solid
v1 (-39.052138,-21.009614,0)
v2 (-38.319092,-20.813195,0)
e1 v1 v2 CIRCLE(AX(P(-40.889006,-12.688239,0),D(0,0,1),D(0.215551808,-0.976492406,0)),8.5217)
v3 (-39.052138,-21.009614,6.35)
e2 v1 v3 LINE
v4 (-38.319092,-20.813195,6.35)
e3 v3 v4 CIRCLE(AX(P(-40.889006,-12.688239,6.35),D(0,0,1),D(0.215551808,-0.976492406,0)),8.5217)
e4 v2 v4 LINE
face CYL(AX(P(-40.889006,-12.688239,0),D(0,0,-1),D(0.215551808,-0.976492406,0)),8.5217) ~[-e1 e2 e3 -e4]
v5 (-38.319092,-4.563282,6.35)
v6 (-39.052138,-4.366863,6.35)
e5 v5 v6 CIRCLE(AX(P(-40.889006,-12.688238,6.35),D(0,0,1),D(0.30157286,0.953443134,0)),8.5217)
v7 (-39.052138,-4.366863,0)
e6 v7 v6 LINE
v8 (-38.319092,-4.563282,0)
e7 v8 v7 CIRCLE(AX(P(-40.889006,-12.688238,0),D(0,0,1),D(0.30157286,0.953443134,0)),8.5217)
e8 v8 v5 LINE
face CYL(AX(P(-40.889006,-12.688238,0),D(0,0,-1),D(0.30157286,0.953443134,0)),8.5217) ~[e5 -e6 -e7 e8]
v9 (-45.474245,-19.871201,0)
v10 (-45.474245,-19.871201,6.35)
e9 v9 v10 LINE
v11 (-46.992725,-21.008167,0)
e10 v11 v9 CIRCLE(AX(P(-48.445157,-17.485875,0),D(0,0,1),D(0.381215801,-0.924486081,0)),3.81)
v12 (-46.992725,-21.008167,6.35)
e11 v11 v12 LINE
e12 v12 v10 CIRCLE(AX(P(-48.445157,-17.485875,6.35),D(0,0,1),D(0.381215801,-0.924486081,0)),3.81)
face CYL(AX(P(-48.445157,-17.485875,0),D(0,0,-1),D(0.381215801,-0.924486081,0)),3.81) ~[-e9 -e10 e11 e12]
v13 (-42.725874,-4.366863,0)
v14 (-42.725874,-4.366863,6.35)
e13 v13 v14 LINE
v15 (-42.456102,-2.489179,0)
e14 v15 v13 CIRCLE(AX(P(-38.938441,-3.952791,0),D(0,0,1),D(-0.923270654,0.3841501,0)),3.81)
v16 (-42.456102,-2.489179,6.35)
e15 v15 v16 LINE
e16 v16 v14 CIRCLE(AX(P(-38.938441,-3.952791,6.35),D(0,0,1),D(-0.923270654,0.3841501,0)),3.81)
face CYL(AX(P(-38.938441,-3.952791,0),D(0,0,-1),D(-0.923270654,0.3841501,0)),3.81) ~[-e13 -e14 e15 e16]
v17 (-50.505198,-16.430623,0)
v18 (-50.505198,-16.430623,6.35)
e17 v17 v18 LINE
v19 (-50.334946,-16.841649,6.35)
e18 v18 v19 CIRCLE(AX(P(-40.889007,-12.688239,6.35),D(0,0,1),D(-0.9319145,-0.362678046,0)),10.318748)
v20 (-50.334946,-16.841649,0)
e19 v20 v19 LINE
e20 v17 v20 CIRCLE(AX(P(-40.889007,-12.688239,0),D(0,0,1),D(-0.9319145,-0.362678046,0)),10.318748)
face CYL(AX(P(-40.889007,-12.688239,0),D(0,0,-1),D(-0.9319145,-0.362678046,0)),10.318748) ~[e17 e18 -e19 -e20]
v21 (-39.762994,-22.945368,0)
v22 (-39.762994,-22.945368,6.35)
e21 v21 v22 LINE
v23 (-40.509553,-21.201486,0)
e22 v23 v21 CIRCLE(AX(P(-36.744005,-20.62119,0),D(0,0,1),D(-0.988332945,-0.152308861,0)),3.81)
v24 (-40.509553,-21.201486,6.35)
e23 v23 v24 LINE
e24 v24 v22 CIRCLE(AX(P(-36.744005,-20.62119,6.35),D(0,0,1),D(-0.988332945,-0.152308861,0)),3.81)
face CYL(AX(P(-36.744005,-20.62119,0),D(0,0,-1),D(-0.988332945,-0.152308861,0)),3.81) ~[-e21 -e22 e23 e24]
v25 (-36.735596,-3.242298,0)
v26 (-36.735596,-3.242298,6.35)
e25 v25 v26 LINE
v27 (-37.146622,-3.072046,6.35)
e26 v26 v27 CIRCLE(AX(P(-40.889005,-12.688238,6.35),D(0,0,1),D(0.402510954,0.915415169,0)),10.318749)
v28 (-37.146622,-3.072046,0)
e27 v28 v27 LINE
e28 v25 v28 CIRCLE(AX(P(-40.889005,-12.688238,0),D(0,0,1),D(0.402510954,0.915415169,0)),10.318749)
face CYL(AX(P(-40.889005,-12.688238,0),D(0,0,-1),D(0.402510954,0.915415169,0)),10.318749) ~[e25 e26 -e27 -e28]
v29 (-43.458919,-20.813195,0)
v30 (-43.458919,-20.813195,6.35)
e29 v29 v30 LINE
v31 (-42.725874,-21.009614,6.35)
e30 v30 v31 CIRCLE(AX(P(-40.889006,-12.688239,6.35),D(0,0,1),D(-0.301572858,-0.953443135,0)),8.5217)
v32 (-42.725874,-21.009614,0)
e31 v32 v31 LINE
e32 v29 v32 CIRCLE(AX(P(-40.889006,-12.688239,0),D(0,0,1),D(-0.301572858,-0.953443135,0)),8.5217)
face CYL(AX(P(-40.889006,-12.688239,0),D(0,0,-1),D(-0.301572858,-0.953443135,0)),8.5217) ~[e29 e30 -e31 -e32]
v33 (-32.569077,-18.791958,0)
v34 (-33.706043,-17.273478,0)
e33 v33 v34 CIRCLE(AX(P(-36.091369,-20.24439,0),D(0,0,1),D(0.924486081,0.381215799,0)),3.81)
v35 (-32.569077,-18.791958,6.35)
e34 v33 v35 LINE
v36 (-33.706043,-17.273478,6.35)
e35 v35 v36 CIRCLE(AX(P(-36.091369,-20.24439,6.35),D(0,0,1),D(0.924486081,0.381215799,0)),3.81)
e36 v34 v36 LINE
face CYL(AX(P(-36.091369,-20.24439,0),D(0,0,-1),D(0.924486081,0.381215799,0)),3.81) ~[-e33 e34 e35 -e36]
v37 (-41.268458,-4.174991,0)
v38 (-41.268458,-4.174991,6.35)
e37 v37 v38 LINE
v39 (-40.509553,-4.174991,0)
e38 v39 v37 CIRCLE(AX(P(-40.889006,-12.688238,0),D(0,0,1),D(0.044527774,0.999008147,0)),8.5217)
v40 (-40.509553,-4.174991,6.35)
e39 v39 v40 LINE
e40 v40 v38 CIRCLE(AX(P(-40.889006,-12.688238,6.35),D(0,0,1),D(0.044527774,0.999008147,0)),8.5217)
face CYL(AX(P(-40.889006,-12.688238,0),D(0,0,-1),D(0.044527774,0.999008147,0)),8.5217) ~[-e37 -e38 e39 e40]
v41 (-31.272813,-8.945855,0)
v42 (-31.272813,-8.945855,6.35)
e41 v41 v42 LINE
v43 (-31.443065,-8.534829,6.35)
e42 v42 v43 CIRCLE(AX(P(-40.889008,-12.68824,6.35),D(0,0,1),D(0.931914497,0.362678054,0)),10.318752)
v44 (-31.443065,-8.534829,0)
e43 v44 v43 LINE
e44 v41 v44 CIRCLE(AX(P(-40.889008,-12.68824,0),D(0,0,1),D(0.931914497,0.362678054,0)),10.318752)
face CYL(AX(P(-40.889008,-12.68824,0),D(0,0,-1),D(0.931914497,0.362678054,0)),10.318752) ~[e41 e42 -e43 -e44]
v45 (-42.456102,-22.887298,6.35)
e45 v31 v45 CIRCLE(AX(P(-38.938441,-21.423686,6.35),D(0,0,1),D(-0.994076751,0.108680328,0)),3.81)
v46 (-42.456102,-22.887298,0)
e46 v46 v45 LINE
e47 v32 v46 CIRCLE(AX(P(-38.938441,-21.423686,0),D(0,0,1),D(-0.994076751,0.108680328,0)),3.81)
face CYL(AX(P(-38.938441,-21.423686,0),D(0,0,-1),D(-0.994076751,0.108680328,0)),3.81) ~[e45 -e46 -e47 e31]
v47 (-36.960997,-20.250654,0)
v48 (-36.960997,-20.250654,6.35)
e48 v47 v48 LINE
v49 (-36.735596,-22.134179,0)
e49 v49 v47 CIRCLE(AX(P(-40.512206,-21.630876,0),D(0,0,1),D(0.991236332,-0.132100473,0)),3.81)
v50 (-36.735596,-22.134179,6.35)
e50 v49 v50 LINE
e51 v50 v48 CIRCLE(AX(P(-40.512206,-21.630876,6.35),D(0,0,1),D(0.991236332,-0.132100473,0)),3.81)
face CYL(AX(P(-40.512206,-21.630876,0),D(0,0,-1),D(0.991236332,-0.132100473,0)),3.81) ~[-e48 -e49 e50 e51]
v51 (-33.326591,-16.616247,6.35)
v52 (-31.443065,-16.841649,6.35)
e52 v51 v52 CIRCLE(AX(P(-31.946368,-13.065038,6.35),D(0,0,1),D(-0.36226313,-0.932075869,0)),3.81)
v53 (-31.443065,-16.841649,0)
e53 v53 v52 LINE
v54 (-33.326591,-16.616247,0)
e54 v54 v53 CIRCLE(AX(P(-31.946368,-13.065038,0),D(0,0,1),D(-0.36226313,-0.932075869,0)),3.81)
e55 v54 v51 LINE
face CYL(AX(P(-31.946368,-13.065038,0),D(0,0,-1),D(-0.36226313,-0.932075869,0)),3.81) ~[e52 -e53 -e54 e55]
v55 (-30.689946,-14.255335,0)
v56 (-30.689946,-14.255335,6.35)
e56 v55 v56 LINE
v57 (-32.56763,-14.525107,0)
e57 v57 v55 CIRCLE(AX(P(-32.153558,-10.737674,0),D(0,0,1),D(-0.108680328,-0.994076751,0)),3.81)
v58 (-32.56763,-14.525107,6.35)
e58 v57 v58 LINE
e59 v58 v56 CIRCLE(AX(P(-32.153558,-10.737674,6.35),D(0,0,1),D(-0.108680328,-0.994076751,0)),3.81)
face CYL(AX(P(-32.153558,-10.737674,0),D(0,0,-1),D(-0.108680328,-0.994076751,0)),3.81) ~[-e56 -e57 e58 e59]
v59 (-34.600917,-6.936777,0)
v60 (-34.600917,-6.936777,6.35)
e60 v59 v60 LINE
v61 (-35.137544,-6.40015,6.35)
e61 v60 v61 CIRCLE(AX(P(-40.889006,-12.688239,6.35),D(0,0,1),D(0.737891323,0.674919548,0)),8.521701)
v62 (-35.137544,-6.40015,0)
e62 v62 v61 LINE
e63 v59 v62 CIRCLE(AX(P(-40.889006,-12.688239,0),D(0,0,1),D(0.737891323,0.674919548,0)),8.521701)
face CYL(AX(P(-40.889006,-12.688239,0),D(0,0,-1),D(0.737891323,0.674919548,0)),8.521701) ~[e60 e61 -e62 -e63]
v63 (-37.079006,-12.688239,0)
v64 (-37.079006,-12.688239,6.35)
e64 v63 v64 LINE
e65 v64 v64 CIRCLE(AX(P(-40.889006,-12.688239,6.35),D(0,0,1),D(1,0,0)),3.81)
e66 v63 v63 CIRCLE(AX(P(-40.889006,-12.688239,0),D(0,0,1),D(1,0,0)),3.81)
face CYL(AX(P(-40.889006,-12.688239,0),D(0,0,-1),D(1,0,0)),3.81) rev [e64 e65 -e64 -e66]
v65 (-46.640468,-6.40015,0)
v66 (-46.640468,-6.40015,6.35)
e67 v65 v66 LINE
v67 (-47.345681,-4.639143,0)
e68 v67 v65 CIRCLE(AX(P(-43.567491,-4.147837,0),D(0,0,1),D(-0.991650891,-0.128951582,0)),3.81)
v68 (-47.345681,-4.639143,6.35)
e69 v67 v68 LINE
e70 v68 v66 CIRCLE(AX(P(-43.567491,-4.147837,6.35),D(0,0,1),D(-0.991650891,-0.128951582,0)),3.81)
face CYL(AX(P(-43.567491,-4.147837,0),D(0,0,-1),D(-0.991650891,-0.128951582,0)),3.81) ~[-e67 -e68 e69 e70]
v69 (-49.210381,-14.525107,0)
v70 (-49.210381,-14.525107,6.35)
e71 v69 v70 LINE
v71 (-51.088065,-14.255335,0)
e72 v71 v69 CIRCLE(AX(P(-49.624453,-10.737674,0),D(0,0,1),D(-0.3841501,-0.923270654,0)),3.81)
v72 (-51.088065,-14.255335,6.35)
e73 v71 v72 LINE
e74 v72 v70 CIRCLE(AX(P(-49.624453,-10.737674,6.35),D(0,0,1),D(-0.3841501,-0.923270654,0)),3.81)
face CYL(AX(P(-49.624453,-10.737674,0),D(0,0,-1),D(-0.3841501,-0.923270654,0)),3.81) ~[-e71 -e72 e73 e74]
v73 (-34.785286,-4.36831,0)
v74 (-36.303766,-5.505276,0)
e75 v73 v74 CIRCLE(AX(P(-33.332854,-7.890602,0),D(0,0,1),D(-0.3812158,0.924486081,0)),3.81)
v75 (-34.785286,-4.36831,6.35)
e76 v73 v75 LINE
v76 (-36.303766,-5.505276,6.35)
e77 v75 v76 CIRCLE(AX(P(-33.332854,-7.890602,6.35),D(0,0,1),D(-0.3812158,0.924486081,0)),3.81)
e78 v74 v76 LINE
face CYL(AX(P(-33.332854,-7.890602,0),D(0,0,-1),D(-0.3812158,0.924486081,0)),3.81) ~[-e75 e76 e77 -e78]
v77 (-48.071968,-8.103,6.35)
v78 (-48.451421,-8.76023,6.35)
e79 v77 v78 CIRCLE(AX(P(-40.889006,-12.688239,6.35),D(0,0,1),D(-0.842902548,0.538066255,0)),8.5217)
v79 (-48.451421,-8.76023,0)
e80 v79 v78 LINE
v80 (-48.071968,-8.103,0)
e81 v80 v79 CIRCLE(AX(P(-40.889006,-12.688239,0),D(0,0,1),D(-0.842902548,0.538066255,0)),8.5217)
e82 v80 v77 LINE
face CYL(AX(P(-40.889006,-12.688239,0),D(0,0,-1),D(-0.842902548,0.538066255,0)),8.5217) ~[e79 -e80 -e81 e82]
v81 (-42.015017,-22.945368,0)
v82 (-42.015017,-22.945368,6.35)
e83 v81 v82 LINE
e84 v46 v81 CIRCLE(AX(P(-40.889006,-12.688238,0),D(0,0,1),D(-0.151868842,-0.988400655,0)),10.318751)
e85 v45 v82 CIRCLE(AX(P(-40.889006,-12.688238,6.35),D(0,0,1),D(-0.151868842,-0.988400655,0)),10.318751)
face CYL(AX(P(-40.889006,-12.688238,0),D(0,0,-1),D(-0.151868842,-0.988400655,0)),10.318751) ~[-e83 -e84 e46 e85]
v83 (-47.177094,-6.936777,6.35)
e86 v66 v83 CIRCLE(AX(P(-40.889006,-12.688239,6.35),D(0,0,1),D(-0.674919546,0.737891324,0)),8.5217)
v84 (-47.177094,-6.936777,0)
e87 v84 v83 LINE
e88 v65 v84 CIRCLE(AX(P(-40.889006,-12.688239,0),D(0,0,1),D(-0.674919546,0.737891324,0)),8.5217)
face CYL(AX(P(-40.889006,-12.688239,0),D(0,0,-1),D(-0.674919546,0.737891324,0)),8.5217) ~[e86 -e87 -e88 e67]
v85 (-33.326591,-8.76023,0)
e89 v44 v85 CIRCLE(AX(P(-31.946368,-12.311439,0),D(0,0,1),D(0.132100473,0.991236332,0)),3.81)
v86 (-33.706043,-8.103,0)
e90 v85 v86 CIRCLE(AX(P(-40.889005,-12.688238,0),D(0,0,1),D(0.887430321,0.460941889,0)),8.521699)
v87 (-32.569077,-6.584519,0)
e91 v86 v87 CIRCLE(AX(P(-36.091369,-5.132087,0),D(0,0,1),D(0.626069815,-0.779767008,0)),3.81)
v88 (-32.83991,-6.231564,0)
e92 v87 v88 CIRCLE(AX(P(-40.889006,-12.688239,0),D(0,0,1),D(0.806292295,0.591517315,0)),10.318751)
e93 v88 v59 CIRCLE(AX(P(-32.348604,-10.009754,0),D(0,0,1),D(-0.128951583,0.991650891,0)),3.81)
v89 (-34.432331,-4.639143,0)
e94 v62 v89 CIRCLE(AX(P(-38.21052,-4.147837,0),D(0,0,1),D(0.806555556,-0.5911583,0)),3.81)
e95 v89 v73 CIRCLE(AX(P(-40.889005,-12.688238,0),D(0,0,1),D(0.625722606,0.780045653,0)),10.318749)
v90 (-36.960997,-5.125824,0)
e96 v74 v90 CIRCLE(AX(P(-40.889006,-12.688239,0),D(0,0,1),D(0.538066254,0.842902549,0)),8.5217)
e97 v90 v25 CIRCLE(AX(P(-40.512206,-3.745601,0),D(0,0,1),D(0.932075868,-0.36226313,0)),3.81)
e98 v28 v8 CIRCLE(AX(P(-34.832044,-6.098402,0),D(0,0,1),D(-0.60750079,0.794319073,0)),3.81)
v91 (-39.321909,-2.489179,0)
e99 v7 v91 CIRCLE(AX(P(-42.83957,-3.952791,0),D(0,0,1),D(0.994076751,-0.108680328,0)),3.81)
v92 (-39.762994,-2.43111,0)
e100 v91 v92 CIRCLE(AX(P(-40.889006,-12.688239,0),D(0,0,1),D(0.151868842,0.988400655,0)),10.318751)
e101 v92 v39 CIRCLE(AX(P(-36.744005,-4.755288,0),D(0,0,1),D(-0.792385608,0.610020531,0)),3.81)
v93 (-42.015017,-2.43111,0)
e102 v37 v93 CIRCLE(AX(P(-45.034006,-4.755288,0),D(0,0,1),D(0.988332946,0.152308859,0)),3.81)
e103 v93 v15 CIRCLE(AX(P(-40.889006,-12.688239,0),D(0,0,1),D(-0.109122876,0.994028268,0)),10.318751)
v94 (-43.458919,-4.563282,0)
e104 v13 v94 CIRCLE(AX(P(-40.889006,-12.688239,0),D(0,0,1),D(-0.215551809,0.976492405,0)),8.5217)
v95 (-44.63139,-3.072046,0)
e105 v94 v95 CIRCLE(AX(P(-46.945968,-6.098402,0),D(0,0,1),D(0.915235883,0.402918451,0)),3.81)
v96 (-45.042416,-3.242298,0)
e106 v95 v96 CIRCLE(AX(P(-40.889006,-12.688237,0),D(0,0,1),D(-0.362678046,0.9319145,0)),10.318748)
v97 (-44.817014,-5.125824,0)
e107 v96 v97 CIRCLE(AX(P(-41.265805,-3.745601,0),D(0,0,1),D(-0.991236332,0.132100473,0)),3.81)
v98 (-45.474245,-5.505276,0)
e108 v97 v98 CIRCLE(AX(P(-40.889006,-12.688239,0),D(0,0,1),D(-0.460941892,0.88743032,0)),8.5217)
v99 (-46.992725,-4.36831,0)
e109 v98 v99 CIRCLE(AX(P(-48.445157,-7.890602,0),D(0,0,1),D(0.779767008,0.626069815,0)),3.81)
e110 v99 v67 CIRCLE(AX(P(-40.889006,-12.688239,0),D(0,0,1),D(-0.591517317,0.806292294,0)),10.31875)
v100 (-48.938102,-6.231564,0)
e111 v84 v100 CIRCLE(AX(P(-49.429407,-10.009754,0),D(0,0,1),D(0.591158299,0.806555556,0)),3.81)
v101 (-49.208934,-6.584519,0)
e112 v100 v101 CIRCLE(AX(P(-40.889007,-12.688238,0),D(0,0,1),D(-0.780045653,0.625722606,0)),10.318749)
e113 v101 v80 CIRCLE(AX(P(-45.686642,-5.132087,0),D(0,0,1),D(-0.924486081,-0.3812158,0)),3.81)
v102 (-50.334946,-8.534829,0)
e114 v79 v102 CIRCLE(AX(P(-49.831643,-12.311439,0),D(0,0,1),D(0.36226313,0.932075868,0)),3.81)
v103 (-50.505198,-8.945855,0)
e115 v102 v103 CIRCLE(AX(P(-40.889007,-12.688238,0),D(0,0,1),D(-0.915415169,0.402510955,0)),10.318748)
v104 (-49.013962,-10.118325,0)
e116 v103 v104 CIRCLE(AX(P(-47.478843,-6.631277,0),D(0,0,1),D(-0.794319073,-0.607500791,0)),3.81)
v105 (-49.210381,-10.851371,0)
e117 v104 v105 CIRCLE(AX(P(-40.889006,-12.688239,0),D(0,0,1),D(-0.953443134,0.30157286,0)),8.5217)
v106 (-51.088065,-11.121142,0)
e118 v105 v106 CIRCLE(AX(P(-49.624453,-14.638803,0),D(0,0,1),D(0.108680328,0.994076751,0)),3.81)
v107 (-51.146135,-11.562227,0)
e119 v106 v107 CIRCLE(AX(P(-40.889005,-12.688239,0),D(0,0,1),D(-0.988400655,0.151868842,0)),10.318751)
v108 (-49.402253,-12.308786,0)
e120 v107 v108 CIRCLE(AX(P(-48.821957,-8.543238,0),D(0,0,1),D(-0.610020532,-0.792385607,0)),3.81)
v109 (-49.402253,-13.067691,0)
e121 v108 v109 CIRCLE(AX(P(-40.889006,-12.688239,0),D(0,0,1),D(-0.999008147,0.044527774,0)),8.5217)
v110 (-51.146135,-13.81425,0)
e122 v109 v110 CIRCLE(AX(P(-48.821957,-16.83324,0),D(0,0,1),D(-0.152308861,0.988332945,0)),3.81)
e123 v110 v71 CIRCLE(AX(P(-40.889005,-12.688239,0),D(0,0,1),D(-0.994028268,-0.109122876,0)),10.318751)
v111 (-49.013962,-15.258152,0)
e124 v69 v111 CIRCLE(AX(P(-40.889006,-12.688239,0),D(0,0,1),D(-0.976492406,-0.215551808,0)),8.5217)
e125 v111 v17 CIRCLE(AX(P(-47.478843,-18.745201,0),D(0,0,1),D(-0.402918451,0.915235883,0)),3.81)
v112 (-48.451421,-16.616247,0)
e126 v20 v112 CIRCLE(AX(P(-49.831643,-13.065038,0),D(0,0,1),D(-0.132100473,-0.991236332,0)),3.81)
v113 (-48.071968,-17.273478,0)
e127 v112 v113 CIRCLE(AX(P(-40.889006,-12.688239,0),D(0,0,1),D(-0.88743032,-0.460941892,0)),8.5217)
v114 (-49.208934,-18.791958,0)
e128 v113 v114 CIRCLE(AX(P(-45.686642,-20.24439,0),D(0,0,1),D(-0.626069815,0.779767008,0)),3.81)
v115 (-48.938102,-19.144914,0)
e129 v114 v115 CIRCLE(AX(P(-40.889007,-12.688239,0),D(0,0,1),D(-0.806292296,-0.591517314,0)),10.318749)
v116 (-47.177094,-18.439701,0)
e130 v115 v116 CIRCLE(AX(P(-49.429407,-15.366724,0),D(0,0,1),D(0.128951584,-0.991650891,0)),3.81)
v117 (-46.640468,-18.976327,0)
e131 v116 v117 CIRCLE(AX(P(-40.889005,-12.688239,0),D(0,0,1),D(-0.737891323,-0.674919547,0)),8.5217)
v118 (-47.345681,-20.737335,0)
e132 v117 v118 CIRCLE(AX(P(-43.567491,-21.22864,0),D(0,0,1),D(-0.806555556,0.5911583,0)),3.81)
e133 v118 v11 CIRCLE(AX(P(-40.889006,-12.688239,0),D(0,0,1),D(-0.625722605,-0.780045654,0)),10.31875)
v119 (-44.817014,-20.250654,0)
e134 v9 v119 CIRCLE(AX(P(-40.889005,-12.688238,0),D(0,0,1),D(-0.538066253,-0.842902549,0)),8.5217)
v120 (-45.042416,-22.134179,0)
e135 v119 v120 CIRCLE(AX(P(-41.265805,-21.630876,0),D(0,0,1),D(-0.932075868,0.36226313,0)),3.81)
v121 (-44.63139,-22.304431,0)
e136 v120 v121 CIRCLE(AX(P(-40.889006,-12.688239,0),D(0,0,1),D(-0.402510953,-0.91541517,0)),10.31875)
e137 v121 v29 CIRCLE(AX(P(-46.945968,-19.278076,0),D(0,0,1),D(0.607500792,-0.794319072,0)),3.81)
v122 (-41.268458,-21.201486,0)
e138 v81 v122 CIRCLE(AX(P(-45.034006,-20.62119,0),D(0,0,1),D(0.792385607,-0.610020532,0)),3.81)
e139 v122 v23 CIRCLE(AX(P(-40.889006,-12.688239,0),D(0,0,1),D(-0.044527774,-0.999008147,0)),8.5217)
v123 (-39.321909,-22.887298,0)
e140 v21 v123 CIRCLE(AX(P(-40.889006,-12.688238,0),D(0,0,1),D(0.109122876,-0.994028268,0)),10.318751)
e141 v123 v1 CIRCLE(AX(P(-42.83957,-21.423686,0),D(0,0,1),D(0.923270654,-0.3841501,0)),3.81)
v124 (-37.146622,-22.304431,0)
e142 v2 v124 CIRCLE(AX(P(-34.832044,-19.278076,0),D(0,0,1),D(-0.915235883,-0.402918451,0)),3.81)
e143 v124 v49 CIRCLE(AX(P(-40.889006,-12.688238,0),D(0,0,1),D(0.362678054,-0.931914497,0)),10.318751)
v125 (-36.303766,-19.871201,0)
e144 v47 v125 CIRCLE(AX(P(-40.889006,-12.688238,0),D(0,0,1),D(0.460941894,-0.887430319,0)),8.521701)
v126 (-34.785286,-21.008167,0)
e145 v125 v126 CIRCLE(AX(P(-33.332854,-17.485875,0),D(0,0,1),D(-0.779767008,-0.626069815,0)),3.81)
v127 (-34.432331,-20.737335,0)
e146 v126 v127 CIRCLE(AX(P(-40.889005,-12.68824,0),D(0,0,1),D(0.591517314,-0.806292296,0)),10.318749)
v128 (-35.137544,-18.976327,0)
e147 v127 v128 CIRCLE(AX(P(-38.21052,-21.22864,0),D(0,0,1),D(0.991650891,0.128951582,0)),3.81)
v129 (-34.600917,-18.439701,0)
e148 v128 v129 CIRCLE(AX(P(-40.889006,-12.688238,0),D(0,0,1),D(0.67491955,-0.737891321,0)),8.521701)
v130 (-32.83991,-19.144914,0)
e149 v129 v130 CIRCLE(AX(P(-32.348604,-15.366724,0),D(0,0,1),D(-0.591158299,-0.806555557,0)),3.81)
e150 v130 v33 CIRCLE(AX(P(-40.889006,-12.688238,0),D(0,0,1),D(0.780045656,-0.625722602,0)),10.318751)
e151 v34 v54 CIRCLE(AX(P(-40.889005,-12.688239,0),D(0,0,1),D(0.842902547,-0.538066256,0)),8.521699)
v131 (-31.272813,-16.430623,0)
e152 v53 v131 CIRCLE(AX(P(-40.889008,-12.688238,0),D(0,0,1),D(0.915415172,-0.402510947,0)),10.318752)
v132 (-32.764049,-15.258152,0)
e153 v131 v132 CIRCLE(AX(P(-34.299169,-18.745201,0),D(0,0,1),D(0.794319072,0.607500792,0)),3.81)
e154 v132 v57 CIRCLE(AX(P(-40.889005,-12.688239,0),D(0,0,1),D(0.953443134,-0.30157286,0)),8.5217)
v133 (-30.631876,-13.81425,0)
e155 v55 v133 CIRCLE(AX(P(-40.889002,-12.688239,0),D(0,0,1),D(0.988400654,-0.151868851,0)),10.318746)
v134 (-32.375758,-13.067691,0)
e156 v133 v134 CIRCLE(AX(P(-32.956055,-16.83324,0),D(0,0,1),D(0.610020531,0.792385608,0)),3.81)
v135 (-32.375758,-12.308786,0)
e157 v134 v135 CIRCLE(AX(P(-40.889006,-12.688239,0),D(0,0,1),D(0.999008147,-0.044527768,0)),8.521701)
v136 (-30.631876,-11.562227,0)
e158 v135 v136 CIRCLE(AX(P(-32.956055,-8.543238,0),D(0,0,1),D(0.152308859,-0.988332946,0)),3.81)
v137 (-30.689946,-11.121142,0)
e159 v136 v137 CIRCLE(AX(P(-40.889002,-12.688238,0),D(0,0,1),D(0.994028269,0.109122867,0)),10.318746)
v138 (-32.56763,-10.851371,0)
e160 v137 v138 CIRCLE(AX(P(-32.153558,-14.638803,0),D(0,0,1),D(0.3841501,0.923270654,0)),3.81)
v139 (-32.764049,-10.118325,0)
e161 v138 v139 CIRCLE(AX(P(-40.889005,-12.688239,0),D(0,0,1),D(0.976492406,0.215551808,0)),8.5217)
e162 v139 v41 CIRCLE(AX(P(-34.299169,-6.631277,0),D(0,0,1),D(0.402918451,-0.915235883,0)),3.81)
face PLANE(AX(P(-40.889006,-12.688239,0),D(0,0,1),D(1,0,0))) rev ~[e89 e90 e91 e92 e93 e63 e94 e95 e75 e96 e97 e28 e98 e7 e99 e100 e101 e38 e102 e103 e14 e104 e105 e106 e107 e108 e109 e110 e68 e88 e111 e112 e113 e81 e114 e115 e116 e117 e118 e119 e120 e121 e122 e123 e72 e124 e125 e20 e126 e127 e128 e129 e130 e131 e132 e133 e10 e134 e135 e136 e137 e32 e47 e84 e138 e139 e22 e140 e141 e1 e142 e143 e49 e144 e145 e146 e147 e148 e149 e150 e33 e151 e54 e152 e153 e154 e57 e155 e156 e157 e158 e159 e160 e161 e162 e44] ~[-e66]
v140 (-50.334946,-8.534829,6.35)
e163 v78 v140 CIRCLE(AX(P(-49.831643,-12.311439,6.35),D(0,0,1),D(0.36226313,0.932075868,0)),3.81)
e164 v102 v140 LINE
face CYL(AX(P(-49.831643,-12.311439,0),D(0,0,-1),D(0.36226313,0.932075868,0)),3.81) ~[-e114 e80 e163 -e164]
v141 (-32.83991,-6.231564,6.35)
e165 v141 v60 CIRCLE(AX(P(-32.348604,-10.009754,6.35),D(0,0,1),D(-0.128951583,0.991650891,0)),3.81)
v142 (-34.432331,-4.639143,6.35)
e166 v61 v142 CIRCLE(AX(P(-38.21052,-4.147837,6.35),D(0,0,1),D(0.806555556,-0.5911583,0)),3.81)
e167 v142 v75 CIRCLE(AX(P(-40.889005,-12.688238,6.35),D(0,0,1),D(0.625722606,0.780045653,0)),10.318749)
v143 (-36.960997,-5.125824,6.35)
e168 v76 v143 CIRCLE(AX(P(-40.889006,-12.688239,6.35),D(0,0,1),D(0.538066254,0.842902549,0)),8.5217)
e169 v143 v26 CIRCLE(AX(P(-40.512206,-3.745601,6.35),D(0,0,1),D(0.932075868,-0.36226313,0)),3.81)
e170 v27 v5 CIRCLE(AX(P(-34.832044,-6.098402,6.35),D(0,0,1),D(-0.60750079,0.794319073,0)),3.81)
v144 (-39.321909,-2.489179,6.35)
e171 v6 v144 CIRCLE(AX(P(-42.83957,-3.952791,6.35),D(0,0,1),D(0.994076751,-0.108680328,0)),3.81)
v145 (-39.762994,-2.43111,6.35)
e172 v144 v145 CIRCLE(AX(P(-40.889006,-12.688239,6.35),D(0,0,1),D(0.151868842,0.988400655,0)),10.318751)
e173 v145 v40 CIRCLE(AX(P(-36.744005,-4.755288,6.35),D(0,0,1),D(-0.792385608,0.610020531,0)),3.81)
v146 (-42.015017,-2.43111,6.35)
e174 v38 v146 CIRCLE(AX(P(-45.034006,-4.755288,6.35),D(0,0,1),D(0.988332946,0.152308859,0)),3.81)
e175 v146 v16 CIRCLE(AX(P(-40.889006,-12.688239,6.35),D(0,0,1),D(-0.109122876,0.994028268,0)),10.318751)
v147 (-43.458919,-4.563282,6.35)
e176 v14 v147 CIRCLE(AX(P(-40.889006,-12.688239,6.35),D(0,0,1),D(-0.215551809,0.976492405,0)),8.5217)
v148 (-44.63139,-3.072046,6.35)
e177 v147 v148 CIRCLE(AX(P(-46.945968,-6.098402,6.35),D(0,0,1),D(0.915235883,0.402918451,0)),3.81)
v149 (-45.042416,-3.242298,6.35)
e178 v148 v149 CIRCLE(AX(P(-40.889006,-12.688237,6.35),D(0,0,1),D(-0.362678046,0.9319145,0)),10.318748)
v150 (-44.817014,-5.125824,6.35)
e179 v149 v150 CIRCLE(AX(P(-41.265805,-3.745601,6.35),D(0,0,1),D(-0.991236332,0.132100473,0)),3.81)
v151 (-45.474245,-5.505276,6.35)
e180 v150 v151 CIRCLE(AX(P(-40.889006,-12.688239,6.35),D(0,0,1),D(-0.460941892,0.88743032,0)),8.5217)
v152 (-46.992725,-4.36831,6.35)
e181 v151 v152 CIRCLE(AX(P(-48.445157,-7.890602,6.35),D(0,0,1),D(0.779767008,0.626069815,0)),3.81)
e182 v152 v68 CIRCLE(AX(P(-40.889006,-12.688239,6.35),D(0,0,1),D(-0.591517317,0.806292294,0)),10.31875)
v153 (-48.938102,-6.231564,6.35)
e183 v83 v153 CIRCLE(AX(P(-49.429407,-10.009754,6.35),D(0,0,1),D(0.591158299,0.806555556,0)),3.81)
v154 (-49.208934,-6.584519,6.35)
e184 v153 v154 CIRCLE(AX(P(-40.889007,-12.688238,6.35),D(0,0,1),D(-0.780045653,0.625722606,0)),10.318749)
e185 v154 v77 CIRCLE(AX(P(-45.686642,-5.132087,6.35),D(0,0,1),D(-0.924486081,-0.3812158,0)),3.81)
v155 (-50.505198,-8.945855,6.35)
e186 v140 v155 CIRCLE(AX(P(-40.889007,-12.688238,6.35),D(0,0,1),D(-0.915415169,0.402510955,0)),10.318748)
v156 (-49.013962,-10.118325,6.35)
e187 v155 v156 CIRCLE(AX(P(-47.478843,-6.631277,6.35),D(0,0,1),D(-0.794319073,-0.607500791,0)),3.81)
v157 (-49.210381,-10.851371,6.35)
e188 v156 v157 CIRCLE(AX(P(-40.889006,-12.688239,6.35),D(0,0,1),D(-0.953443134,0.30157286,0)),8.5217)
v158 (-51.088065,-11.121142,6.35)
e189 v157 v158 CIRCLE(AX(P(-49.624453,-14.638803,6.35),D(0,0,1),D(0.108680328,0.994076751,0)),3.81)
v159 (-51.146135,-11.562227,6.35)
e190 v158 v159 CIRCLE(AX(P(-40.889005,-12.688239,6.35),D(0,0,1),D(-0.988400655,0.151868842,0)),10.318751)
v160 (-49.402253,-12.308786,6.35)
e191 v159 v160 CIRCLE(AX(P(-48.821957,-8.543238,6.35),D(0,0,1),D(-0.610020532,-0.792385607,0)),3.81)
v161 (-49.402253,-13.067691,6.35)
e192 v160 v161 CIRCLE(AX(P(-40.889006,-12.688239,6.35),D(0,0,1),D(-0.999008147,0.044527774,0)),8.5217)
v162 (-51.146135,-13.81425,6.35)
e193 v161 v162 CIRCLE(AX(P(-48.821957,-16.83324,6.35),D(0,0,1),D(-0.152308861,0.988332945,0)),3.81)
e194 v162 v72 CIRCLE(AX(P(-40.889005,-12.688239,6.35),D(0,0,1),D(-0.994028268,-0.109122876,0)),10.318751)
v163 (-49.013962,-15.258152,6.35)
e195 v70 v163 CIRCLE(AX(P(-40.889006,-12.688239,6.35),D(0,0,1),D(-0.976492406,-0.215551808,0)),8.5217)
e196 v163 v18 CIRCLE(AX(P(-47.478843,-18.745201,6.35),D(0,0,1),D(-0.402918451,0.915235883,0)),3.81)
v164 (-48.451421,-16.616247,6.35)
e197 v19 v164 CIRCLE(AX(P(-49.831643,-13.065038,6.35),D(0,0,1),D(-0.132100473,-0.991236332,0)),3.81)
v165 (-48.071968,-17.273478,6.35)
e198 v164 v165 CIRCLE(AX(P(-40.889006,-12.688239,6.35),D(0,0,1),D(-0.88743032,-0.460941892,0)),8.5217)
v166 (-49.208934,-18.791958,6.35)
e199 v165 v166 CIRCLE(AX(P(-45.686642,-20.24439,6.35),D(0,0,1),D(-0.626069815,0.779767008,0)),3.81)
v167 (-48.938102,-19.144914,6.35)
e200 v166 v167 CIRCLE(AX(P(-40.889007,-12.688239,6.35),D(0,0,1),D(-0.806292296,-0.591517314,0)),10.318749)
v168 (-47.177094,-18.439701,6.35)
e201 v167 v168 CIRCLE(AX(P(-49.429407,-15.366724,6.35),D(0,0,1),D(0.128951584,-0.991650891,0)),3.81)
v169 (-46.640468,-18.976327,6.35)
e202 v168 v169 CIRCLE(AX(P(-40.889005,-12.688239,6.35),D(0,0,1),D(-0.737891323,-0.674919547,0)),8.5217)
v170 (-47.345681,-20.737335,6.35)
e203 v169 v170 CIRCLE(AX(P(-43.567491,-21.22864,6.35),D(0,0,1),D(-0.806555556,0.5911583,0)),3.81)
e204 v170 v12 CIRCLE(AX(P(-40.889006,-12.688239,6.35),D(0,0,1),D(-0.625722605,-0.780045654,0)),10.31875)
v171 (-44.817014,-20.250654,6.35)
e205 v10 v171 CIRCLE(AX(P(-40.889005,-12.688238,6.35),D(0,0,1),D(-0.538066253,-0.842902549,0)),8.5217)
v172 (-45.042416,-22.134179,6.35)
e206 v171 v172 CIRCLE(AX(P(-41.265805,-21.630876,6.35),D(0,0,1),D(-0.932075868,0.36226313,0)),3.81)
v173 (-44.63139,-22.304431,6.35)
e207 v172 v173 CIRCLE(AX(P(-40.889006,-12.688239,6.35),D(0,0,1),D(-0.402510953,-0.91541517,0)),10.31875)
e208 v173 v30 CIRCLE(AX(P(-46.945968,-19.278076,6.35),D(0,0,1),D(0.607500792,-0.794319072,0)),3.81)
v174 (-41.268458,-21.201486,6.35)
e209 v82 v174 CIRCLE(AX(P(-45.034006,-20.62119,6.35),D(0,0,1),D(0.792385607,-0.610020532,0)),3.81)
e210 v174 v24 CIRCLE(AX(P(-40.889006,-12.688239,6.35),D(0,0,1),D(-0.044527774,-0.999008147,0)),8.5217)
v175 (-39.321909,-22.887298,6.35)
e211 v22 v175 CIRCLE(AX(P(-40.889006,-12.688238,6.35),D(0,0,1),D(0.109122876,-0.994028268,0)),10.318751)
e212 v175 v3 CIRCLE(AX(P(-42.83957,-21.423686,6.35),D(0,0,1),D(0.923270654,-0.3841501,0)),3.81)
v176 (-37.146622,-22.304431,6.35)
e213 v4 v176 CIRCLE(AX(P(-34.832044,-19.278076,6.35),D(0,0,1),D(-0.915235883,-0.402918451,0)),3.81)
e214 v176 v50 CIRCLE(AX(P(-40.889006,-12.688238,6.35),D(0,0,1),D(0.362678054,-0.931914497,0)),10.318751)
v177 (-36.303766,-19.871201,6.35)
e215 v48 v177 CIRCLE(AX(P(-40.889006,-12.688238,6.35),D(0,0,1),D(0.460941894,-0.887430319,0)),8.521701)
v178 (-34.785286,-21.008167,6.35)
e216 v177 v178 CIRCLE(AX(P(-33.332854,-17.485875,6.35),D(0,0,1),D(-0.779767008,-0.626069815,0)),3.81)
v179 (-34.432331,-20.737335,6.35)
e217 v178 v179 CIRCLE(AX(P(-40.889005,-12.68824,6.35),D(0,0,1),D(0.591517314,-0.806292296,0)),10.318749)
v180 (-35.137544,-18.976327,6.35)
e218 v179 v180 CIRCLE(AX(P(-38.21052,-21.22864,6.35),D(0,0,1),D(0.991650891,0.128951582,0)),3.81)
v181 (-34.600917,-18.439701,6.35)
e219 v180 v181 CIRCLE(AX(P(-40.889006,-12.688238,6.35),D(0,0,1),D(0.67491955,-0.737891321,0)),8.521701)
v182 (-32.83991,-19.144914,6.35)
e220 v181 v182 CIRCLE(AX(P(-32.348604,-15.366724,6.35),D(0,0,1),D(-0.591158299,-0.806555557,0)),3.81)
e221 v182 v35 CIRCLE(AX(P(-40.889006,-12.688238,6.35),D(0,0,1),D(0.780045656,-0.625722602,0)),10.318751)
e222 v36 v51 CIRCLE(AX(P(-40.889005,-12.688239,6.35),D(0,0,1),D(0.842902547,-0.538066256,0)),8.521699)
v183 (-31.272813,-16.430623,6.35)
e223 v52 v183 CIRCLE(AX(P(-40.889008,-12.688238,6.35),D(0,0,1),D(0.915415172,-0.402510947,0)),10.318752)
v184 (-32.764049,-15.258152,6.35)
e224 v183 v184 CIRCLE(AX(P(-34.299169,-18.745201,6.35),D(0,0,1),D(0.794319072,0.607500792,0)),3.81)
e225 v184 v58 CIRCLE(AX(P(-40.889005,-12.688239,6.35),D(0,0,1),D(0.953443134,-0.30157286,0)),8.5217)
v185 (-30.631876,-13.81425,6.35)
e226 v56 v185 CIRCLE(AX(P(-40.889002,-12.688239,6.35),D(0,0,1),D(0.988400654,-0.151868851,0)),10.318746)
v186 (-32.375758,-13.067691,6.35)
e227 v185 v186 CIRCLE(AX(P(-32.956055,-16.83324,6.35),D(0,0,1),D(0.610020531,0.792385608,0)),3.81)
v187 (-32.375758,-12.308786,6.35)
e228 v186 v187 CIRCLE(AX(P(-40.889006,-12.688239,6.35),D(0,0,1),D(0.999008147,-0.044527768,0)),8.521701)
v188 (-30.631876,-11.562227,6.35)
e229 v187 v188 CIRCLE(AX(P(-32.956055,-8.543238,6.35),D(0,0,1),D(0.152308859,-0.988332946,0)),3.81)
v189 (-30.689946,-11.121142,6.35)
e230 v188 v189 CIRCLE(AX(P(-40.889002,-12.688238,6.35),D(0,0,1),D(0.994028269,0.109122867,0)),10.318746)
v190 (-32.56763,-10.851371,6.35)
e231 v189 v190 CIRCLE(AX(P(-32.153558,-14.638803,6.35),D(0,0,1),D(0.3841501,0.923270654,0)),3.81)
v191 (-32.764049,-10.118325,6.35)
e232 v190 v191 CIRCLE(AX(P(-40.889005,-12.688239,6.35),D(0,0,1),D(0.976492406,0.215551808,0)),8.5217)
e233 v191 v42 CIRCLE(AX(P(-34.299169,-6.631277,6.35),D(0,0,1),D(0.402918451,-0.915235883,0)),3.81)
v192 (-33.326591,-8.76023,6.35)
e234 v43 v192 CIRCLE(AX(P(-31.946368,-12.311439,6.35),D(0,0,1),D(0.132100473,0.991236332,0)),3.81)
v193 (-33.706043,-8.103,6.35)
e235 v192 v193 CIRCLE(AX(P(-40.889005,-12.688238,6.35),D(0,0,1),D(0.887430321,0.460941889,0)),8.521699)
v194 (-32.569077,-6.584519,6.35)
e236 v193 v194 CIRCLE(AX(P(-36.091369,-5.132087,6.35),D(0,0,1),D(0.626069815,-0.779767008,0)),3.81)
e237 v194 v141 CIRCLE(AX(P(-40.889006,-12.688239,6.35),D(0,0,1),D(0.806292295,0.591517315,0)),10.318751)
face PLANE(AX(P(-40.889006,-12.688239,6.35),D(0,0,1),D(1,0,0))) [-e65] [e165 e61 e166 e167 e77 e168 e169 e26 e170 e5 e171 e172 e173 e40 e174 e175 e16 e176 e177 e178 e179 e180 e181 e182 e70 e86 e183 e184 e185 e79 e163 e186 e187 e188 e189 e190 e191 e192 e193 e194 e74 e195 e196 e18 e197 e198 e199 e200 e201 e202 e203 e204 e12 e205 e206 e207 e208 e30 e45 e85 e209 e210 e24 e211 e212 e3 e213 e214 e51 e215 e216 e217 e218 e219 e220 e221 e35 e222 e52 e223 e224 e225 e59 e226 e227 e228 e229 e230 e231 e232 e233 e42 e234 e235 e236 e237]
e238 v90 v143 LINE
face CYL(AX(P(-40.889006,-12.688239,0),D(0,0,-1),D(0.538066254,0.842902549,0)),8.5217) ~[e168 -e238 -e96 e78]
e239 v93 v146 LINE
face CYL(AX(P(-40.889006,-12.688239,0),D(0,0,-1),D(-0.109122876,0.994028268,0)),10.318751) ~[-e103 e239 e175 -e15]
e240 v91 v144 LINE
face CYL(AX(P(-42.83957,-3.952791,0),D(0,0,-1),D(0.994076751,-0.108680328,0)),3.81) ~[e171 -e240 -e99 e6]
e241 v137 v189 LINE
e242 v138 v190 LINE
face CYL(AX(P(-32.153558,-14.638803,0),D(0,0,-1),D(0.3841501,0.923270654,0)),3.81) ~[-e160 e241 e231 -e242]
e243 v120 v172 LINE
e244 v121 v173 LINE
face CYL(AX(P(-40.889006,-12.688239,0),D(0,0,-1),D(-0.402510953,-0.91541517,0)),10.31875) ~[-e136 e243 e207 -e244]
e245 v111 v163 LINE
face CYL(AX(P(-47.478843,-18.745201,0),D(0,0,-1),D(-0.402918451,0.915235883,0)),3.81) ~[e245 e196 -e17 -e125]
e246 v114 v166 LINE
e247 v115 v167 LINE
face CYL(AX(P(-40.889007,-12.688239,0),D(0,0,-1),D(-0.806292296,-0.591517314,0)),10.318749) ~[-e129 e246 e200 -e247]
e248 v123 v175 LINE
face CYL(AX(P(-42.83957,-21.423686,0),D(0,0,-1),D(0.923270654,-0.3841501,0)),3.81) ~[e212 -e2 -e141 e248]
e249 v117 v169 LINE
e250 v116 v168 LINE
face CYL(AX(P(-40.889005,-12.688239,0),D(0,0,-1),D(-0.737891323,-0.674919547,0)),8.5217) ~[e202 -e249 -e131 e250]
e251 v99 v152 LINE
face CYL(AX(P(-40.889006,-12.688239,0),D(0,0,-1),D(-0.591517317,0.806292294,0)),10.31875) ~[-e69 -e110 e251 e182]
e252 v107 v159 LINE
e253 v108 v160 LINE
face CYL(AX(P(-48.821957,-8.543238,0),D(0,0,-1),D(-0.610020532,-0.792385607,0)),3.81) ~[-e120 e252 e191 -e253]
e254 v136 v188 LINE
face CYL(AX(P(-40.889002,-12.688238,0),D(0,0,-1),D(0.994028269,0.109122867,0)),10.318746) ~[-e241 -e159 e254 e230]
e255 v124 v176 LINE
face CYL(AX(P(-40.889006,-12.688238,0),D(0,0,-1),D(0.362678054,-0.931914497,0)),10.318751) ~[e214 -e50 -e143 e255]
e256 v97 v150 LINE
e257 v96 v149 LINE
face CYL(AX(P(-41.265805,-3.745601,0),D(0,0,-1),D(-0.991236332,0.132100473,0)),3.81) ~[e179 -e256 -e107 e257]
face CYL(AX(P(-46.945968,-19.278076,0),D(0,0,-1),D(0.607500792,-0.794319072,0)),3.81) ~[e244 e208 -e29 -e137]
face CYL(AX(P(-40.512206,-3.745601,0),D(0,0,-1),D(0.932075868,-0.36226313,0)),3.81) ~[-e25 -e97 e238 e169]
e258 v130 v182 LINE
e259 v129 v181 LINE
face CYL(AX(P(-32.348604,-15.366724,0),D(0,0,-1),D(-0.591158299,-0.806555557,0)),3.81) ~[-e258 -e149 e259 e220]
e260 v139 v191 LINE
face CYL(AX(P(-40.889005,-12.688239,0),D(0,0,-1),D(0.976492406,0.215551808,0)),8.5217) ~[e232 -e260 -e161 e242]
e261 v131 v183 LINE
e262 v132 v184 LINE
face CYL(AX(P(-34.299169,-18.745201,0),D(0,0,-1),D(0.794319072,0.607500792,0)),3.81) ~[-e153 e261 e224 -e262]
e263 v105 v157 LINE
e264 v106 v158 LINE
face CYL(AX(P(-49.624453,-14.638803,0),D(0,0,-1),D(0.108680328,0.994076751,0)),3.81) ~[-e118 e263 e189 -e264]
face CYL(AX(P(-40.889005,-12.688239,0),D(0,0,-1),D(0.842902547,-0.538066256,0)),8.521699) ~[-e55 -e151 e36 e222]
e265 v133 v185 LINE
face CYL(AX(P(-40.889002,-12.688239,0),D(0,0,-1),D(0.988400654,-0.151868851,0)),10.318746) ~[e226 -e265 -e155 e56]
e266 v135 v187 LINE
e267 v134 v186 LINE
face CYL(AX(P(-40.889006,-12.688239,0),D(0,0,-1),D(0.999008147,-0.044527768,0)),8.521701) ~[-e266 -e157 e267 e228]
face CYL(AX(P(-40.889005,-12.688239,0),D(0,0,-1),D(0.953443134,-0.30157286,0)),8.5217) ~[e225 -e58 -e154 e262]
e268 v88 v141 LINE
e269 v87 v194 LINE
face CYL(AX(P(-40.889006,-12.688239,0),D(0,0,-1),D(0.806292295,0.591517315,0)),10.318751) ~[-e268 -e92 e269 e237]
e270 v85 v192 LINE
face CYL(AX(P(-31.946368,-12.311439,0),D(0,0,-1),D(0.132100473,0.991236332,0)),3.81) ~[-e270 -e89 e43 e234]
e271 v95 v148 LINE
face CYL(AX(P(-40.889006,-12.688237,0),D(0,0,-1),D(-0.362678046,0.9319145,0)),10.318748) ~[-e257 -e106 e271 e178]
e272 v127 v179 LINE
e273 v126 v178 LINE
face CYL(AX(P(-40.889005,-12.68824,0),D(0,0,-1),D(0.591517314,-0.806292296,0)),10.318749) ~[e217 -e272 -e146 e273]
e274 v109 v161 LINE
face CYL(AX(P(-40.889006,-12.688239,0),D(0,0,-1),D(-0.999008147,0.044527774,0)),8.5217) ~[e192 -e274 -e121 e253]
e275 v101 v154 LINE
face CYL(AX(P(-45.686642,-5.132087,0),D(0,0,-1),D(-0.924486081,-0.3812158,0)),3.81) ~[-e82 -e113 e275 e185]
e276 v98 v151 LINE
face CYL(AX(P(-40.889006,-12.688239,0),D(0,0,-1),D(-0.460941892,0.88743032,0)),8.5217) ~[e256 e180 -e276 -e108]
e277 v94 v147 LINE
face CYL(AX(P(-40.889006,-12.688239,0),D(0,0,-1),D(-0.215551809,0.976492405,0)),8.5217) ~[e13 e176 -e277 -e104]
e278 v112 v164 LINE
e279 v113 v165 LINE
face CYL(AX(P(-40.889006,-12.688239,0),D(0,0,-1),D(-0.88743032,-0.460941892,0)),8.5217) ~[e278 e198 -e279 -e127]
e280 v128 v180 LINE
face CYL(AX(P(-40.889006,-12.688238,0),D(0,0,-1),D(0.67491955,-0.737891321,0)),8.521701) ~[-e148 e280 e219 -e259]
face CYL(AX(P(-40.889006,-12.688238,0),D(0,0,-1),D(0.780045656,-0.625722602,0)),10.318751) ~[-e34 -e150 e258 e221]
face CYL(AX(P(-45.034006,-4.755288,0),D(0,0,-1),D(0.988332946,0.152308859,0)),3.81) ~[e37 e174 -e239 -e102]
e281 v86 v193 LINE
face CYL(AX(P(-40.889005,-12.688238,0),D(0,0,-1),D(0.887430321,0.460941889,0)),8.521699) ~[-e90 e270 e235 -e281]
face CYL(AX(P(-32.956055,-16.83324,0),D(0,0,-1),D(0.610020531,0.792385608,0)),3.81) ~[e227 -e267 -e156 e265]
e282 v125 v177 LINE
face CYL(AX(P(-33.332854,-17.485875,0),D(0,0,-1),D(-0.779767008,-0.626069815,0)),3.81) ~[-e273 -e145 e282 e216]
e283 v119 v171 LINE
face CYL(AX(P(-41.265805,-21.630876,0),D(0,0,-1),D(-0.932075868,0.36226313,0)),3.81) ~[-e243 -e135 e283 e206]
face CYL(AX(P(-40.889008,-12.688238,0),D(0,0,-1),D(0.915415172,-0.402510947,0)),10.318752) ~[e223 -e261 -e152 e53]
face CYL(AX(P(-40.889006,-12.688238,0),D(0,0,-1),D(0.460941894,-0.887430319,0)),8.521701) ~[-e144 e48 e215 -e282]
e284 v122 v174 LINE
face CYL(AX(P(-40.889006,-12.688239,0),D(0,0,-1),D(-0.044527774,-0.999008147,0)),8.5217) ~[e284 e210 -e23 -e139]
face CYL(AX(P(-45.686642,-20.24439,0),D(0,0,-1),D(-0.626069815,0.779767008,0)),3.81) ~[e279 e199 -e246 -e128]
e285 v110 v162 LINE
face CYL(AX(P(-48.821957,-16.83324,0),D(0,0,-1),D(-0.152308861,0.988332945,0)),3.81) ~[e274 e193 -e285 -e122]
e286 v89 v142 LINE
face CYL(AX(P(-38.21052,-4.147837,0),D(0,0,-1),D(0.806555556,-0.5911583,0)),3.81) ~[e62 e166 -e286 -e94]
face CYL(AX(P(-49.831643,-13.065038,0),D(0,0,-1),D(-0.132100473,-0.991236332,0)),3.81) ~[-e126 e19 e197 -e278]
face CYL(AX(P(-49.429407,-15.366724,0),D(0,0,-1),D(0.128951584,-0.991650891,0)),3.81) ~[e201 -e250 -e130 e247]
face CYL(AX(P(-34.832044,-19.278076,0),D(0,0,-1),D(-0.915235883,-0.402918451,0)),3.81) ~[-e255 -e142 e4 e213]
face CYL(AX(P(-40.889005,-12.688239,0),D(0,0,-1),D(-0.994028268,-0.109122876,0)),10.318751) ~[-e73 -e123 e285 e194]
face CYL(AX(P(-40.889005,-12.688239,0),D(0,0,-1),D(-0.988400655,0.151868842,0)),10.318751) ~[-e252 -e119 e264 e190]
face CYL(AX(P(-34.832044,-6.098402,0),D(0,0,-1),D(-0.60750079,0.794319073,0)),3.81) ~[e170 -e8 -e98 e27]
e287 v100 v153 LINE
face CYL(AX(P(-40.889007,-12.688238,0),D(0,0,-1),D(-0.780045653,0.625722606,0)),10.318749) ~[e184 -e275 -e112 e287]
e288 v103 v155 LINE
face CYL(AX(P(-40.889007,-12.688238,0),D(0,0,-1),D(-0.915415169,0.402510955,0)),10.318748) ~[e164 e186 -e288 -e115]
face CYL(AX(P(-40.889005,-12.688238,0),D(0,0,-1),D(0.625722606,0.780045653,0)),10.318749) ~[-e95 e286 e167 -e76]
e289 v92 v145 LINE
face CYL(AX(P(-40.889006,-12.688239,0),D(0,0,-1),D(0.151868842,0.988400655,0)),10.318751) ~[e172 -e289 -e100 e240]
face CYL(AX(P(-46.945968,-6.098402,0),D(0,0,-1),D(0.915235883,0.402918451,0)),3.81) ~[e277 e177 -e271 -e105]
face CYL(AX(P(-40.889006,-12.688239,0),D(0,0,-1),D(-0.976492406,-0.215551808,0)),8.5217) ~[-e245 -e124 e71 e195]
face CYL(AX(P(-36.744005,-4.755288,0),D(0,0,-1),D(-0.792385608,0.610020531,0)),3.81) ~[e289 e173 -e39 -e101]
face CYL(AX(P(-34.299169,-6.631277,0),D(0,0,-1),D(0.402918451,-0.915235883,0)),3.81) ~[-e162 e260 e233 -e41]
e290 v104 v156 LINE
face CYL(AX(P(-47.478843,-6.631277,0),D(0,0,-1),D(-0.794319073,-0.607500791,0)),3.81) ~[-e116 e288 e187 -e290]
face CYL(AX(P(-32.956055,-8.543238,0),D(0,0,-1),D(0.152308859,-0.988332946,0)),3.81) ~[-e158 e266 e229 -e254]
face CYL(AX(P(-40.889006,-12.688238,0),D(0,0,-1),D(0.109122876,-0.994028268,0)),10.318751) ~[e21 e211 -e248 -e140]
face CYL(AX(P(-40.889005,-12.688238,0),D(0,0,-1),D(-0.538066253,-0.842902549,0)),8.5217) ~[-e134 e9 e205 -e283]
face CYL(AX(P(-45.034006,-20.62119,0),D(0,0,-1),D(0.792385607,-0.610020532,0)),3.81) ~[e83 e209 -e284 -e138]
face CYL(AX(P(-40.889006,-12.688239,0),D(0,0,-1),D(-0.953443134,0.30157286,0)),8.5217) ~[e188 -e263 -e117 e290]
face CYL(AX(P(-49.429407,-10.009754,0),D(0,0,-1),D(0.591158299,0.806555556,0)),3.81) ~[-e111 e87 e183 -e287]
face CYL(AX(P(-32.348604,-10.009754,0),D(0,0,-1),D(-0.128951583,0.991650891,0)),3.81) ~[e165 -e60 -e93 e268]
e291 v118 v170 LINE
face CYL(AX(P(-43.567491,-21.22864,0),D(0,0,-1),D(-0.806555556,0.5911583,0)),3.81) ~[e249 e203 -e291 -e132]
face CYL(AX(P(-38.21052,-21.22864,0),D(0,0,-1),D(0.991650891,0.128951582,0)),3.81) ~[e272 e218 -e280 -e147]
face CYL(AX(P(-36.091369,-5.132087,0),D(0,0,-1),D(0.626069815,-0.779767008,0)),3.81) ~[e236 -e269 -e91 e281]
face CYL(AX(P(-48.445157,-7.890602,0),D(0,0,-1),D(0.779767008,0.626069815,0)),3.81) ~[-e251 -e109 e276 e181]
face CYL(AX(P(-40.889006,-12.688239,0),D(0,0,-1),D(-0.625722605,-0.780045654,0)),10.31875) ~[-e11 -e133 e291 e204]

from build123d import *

# Parameters (mm, degrees)
SKETCH2_R           = 3.81
BOSS_EXTRUDE1_DEPTH = 6.35


with BuildPart() as part:
    # Sketch2 → Boss-Extrude1 (new body)
    with BuildSketch(Plane.XY):
        with BuildLine():
            ThreePointArc((-42.015017319, -22.945367918), (-41.531469039, -22.120633406), (-41.268457962, -21.20148645))
            ThreePointArc((-41.268457962, -21.20148645), (-40.889005651, -21.209938725), (-40.50955334, -21.20148645))
            ThreePointArc((-40.50955334, -21.20148645), (-40.246542262, -22.120633406), (-39.762993983, -22.945367918))
            ThreePointArc((-39.762993983, -22.945367918), (-39.542138505, -22.918710388), (-39.321909019, -22.887297981))
            ThreePointArc((-39.321909019, -22.887297981), (-39.068294246, -21.965514112), (-39.052137791, -21.009614053))
            ThreePointArc((-39.052137791, -21.009614053), (-38.683427394, -20.919568839), (-38.319092217, -20.813195084))
            ThreePointArc((-38.319092217, -20.813195084), (-37.827150287, -21.632950591), (-37.146621516, -22.304431452))
            ThreePointArc((-37.146621516, -22.304431452), (-36.940190983, -22.221520651), (-36.735595764, -22.13417901))
            ThreePointArc((-36.735595764, -22.13417901), (-36.729197926, -21.178163832), (-36.960997129, -20.250653679))
            ThreePointArc((-36.960997129, -20.250653679), (-36.628155651, -20.068247408), (-36.303766447, -19.871201369))
            ThreePointArc((-36.303766447, -19.871201369), (-35.616418695, -20.535700443), (-34.785286345, -21.008167342))
            ThreePointArc((-34.785286345, -21.008167342), (-34.607348655, -20.874653505), (-34.432330529, -20.737334819))
            ThreePointArc((-34.432330529, -20.737334819), (-34.673585627, -19.812239186), (-35.137543756, -18.976327224))
            ThreePointArc((-35.137543756, -18.976327224), (-34.863253794, -18.713990582), (-34.600917152, -18.43970062))
            ThreePointArc((-34.600917152, -18.43970062), (-33.76500519, -18.903658748), (-32.839909556, -19.144913847))
            ThreePointArc((-32.839909556, -19.144913847), (-32.702590871, -18.969895721), (-32.569077034, -18.791958031))
            ThreePointArc((-32.569077034, -18.791958031), (-33.041543932, -17.960825681), (-33.706043007, -17.273477928))
            ThreePointArc((-33.706043007, -17.273477928), (-33.508996967, -16.949088725), (-33.326590697, -16.616247247))
            ThreePointArc((-33.326590697, -16.616247247), (-32.399080544, -16.84804645), (-31.443065365, -16.841648612))
            ThreePointArc((-31.443065365, -16.841648612), (-31.355723725, -16.637053393), (-31.272812924, -16.430622859))
            ThreePointArc((-31.272812924, -16.430622859), (-31.944293785, -15.750094089), (-32.764049292, -15.258152159))
            ThreePointArc((-32.764049292, -15.258152159), (-32.657675537, -14.893816982), (-32.567630323, -14.525106585))
            ThreePointArc((-32.567630323, -14.525106585), (-31.611730264, -14.50895013), (-30.689946395, -14.255335357))
            ThreePointArc((-30.689946395, -14.255335357), (-30.658533987, -14.035105871), (-30.631876458, -13.814250393))
            ThreePointArc((-30.631876458, -13.814250393), (-31.456610969, -13.330702114), (-32.375757925, -13.067691036))
            ThreePointArc((-32.375757925, -13.067691036), (-32.367305651, -12.688238725), (-32.375757925, -12.308786414))
            ThreePointArc((-32.375757925, -12.308786414), (-31.456610969, -12.045775337), (-30.631876458, -11.562227057))
            ThreePointArc((-30.631876458, -11.562227057), (-30.658533987, -11.341371579), (-30.689946395, -11.121142093))
            ThreePointArc((-30.689946395, -11.121142093), (-31.611730264, -10.86752732), (-32.567630323, -10.851370865))
            ThreePointArc((-32.567630323, -10.851370865), (-32.657675537, -10.482660468), (-32.764049292, -10.118325291))
            ThreePointArc((-32.764049292, -10.118325291), (-31.944293785, -9.626383361), (-31.272812924, -8.945854591))
            ThreePointArc((-31.272812924, -8.945854591), (-31.355723725, -8.739424057), (-31.443065365, -8.534828838))
            ThreePointArc((-31.443065365, -8.534828838), (-32.399080544, -8.528431), (-33.326590697, -8.760230203))
            ThreePointArc((-33.326590697, -8.760230203), (-33.508996967, -8.427388725), (-33.706043007, -8.102999522))
            ThreePointArc((-33.706043007, -8.102999522), (-33.041543932, -7.415651769), (-32.569077034, -6.584519419))
            ThreePointArc((-32.569077034, -6.584519419), (-32.702590871, -6.406581729), (-32.839909556, -6.231563603))
            ThreePointArc((-32.839909556, -6.231563603), (-33.76500519, -6.472818702), (-34.600917152, -6.936776831))
            ThreePointArc((-34.600917152, -6.936776831), (-34.863253794, -6.662486868), (-35.137543756, -6.400150226))
            ThreePointArc((-35.137543756, -6.400150226), (-34.673585627, -5.564238264), (-34.432330529, -4.639142631))
            ThreePointArc((-34.432330529, -4.639142631), (-34.607348655, -4.501823945), (-34.785286345, -4.368310108))
            ThreePointArc((-34.785286345, -4.368310108), (-35.616418695, -4.840777007), (-36.303766447, -5.505276082))
            ThreePointArc((-36.303766447, -5.505276082), (-36.628155651, -5.308230042), (-36.960997129, -5.125823771))
            ThreePointArc((-36.960997129, -5.125823771), (-36.729197926, -4.198313618), (-36.735595764, -3.24229844))
            ThreePointArc((-36.735595764, -3.24229844), (-36.940190983, -3.154956799), (-37.146621516, -3.072045999))
            ThreePointArc((-37.146621516, -3.072045999), (-37.827150287, -3.743526859), (-38.319092217, -4.563282366))
            ThreePointArc((-38.319092217, -4.563282366), (-38.683427394, -4.456908611), (-39.052137791, -4.366863397))
            ThreePointArc((-39.052137791, -4.366863397), (-39.068294246, -3.410963338), (-39.321909019, -2.489179469))
            ThreePointArc((-39.321909019, -2.489179469), (-39.542138505, -2.457767062), (-39.762993983, -2.431109532))
            ThreePointArc((-39.762993983, -2.431109532), (-40.246542262, -3.255844044), (-40.50955334, -4.174991))
            ThreePointArc((-40.50955334, -4.174991), (-40.889005651, -4.166538725), (-41.268457962, -4.174991))
            ThreePointArc((-41.268457962, -4.174991), (-41.531469039, -3.255844044), (-42.015017319, -2.431109532))
            ThreePointArc((-42.015017319, -2.431109532), (-42.235872797, -2.457767062), (-42.456102283, -2.489179469))
            ThreePointArc((-42.456102283, -2.489179469), (-42.709717056, -3.410963338), (-42.725873511, -4.366863397))
            ThreePointArc((-42.725873511, -4.366863397), (-43.094583907, -4.456908611), (-43.458919085, -4.563282366))
            ThreePointArc((-43.458919085, -4.563282366), (-43.950861015, -3.743526859), (-44.631389785, -3.072045999))
            ThreePointArc((-44.631389785, -3.072045999), (-44.837820319, -3.154956799), (-45.042415538, -3.24229844))
            ThreePointArc((-45.042415538, -3.24229844), (-45.048813376, -4.198313618), (-44.817014173, -5.125823771))
            ThreePointArc((-44.817014173, -5.125823771), (-45.149855651, -5.308230042), (-45.474244854, -5.505276082))
            ThreePointArc((-45.474244854, -5.505276082), (-46.161592607, -4.840777007), (-46.992724957, -4.368310108))
            ThreePointArc((-46.992724957, -4.368310108), (-47.170662646, -4.501823945), (-47.345680772, -4.639142631))
            ThreePointArc((-47.345680772, -4.639142631), (-47.104425674, -5.564238264), (-46.640467545, -6.400150226))
            ThreePointArc((-46.640467545, -6.400150226), (-46.914757508, -6.662486868), (-47.177094149, -6.936776831))
            ThreePointArc((-47.177094149, -6.936776831), (-48.013006112, -6.472818702), (-48.938101745, -6.231563603))
            ThreePointArc((-48.938101745, -6.231563603), (-49.075420431, -6.406581729), (-49.208934268, -6.584519419))
            ThreePointArc((-49.208934268, -6.584519419), (-48.736467369, -7.415651769), (-48.071968294, -8.102999522))
            ThreePointArc((-48.071968294, -8.102999522), (-48.269014334, -8.427388725), (-48.451420605, -8.760230203))
            ThreePointArc((-48.451420605, -8.760230203), (-49.378930758, -8.528431), (-50.334945936, -8.534828838))
            ThreePointArc((-50.334945936, -8.534828838), (-50.422287577, -8.739424057), (-50.505198377, -8.945854591))
            ThreePointArc((-50.505198377, -8.945854591), (-49.833717517, -9.626383361), (-49.01396201, -10.118325291))
            ThreePointArc((-49.01396201, -10.118325291), (-49.120335765, -10.482660468), (-49.210380979, -10.851370865))
            ThreePointArc((-49.210380979, -10.851370865), (-50.166281038, -10.86752732), (-51.088064907, -11.121142093))
            ThreePointArc((-51.088064907, -11.121142093), (-51.119477314, -11.341371579), (-51.146134844, -11.562227057))
            ThreePointArc((-51.146134844, -11.562227057), (-50.321400332, -12.045775337), (-49.402253376, -12.308786414))
            ThreePointArc((-49.402253376, -12.308786414), (-49.410705651, -12.688238725), (-49.402253376, -13.067691036))
            ThreePointArc((-49.402253376, -13.067691036), (-50.321400332, -13.330702114), (-51.146134844, -13.814250393))
            ThreePointArc((-51.146134844, -13.814250393), (-51.119477314, -14.035105871), (-51.088064907, -14.255335357))
            ThreePointArc((-51.088064907, -14.255335357), (-50.166281038, -14.50895013), (-49.210380979, -14.525106585))
            ThreePointArc((-49.210380979, -14.525106585), (-49.120335765, -14.893816982), (-49.01396201, -15.258152159))
            ThreePointArc((-49.01396201, -15.258152159), (-49.833717517, -15.750094089), (-50.505198377, -16.430622859))
            ThreePointArc((-50.505198377, -16.430622859), (-50.422287577, -16.637053393), (-50.334945936, -16.841648612))
            ThreePointArc((-50.334945936, -16.841648612), (-49.378930758, -16.84804645), (-48.451420605, -16.616247247))
            ThreePointArc((-48.451420605, -16.616247247), (-48.269014334, -16.949088725), (-48.071968294, -17.273477928))
            ThreePointArc((-48.071968294, -17.273477928), (-48.736467369, -17.960825681), (-49.208934268, -18.791958031))
            ThreePointArc((-49.208934268, -18.791958031), (-49.075420431, -18.969895721), (-48.938101745, -19.144913847))
            ThreePointArc((-48.938101745, -19.144913847), (-48.013006112, -18.903658748), (-47.177094149, -18.43970062))
            ThreePointArc((-47.177094149, -18.43970062), (-46.914757508, -18.713990582), (-46.640467545, -18.976327224))
            ThreePointArc((-46.640467545, -18.976327224), (-47.104425674, -19.812239186), (-47.345680772, -20.737334819))
            ThreePointArc((-47.345680772, -20.737334819), (-47.170662646, -20.874653505), (-46.992724957, -21.008167342))
            ThreePointArc((-46.992724957, -21.008167342), (-46.161592607, -20.535700443), (-45.474244854, -19.871201369))
            ThreePointArc((-45.474244854, -19.871201369), (-45.149855651, -20.068247408), (-44.817014173, -20.250653679))
            ThreePointArc((-44.817014173, -20.250653679), (-45.048813376, -21.178163832), (-45.042415538, -22.13417901))
            ThreePointArc((-45.042415538, -22.13417901), (-44.837820319, -22.221520651), (-44.631389785, -22.304431452))
            ThreePointArc((-44.631389785, -22.304431452), (-43.950861015, -21.632950591), (-43.458919085, -20.813195084))
            ThreePointArc((-43.458919085, -20.813195084), (-43.094583907, -20.919568839), (-42.725873511, -21.009614053))
            ThreePointArc((-42.725873511, -21.009614053), (-42.709717056, -21.965514112), (-42.456102283, -22.887297981))
            ThreePointArc((-42.456102283, -22.887297981), (-42.235872797, -22.918710388), (-42.015017319, -22.945367918))
        make_face()
        with Locations((-40.889005651, -12.688238725)):
            Circle(SKETCH2_R, mode=Mode.SUBTRACT)
    extrude(amount=BOSS_EXTRUDE1_DEPTH)


solid = part.part
